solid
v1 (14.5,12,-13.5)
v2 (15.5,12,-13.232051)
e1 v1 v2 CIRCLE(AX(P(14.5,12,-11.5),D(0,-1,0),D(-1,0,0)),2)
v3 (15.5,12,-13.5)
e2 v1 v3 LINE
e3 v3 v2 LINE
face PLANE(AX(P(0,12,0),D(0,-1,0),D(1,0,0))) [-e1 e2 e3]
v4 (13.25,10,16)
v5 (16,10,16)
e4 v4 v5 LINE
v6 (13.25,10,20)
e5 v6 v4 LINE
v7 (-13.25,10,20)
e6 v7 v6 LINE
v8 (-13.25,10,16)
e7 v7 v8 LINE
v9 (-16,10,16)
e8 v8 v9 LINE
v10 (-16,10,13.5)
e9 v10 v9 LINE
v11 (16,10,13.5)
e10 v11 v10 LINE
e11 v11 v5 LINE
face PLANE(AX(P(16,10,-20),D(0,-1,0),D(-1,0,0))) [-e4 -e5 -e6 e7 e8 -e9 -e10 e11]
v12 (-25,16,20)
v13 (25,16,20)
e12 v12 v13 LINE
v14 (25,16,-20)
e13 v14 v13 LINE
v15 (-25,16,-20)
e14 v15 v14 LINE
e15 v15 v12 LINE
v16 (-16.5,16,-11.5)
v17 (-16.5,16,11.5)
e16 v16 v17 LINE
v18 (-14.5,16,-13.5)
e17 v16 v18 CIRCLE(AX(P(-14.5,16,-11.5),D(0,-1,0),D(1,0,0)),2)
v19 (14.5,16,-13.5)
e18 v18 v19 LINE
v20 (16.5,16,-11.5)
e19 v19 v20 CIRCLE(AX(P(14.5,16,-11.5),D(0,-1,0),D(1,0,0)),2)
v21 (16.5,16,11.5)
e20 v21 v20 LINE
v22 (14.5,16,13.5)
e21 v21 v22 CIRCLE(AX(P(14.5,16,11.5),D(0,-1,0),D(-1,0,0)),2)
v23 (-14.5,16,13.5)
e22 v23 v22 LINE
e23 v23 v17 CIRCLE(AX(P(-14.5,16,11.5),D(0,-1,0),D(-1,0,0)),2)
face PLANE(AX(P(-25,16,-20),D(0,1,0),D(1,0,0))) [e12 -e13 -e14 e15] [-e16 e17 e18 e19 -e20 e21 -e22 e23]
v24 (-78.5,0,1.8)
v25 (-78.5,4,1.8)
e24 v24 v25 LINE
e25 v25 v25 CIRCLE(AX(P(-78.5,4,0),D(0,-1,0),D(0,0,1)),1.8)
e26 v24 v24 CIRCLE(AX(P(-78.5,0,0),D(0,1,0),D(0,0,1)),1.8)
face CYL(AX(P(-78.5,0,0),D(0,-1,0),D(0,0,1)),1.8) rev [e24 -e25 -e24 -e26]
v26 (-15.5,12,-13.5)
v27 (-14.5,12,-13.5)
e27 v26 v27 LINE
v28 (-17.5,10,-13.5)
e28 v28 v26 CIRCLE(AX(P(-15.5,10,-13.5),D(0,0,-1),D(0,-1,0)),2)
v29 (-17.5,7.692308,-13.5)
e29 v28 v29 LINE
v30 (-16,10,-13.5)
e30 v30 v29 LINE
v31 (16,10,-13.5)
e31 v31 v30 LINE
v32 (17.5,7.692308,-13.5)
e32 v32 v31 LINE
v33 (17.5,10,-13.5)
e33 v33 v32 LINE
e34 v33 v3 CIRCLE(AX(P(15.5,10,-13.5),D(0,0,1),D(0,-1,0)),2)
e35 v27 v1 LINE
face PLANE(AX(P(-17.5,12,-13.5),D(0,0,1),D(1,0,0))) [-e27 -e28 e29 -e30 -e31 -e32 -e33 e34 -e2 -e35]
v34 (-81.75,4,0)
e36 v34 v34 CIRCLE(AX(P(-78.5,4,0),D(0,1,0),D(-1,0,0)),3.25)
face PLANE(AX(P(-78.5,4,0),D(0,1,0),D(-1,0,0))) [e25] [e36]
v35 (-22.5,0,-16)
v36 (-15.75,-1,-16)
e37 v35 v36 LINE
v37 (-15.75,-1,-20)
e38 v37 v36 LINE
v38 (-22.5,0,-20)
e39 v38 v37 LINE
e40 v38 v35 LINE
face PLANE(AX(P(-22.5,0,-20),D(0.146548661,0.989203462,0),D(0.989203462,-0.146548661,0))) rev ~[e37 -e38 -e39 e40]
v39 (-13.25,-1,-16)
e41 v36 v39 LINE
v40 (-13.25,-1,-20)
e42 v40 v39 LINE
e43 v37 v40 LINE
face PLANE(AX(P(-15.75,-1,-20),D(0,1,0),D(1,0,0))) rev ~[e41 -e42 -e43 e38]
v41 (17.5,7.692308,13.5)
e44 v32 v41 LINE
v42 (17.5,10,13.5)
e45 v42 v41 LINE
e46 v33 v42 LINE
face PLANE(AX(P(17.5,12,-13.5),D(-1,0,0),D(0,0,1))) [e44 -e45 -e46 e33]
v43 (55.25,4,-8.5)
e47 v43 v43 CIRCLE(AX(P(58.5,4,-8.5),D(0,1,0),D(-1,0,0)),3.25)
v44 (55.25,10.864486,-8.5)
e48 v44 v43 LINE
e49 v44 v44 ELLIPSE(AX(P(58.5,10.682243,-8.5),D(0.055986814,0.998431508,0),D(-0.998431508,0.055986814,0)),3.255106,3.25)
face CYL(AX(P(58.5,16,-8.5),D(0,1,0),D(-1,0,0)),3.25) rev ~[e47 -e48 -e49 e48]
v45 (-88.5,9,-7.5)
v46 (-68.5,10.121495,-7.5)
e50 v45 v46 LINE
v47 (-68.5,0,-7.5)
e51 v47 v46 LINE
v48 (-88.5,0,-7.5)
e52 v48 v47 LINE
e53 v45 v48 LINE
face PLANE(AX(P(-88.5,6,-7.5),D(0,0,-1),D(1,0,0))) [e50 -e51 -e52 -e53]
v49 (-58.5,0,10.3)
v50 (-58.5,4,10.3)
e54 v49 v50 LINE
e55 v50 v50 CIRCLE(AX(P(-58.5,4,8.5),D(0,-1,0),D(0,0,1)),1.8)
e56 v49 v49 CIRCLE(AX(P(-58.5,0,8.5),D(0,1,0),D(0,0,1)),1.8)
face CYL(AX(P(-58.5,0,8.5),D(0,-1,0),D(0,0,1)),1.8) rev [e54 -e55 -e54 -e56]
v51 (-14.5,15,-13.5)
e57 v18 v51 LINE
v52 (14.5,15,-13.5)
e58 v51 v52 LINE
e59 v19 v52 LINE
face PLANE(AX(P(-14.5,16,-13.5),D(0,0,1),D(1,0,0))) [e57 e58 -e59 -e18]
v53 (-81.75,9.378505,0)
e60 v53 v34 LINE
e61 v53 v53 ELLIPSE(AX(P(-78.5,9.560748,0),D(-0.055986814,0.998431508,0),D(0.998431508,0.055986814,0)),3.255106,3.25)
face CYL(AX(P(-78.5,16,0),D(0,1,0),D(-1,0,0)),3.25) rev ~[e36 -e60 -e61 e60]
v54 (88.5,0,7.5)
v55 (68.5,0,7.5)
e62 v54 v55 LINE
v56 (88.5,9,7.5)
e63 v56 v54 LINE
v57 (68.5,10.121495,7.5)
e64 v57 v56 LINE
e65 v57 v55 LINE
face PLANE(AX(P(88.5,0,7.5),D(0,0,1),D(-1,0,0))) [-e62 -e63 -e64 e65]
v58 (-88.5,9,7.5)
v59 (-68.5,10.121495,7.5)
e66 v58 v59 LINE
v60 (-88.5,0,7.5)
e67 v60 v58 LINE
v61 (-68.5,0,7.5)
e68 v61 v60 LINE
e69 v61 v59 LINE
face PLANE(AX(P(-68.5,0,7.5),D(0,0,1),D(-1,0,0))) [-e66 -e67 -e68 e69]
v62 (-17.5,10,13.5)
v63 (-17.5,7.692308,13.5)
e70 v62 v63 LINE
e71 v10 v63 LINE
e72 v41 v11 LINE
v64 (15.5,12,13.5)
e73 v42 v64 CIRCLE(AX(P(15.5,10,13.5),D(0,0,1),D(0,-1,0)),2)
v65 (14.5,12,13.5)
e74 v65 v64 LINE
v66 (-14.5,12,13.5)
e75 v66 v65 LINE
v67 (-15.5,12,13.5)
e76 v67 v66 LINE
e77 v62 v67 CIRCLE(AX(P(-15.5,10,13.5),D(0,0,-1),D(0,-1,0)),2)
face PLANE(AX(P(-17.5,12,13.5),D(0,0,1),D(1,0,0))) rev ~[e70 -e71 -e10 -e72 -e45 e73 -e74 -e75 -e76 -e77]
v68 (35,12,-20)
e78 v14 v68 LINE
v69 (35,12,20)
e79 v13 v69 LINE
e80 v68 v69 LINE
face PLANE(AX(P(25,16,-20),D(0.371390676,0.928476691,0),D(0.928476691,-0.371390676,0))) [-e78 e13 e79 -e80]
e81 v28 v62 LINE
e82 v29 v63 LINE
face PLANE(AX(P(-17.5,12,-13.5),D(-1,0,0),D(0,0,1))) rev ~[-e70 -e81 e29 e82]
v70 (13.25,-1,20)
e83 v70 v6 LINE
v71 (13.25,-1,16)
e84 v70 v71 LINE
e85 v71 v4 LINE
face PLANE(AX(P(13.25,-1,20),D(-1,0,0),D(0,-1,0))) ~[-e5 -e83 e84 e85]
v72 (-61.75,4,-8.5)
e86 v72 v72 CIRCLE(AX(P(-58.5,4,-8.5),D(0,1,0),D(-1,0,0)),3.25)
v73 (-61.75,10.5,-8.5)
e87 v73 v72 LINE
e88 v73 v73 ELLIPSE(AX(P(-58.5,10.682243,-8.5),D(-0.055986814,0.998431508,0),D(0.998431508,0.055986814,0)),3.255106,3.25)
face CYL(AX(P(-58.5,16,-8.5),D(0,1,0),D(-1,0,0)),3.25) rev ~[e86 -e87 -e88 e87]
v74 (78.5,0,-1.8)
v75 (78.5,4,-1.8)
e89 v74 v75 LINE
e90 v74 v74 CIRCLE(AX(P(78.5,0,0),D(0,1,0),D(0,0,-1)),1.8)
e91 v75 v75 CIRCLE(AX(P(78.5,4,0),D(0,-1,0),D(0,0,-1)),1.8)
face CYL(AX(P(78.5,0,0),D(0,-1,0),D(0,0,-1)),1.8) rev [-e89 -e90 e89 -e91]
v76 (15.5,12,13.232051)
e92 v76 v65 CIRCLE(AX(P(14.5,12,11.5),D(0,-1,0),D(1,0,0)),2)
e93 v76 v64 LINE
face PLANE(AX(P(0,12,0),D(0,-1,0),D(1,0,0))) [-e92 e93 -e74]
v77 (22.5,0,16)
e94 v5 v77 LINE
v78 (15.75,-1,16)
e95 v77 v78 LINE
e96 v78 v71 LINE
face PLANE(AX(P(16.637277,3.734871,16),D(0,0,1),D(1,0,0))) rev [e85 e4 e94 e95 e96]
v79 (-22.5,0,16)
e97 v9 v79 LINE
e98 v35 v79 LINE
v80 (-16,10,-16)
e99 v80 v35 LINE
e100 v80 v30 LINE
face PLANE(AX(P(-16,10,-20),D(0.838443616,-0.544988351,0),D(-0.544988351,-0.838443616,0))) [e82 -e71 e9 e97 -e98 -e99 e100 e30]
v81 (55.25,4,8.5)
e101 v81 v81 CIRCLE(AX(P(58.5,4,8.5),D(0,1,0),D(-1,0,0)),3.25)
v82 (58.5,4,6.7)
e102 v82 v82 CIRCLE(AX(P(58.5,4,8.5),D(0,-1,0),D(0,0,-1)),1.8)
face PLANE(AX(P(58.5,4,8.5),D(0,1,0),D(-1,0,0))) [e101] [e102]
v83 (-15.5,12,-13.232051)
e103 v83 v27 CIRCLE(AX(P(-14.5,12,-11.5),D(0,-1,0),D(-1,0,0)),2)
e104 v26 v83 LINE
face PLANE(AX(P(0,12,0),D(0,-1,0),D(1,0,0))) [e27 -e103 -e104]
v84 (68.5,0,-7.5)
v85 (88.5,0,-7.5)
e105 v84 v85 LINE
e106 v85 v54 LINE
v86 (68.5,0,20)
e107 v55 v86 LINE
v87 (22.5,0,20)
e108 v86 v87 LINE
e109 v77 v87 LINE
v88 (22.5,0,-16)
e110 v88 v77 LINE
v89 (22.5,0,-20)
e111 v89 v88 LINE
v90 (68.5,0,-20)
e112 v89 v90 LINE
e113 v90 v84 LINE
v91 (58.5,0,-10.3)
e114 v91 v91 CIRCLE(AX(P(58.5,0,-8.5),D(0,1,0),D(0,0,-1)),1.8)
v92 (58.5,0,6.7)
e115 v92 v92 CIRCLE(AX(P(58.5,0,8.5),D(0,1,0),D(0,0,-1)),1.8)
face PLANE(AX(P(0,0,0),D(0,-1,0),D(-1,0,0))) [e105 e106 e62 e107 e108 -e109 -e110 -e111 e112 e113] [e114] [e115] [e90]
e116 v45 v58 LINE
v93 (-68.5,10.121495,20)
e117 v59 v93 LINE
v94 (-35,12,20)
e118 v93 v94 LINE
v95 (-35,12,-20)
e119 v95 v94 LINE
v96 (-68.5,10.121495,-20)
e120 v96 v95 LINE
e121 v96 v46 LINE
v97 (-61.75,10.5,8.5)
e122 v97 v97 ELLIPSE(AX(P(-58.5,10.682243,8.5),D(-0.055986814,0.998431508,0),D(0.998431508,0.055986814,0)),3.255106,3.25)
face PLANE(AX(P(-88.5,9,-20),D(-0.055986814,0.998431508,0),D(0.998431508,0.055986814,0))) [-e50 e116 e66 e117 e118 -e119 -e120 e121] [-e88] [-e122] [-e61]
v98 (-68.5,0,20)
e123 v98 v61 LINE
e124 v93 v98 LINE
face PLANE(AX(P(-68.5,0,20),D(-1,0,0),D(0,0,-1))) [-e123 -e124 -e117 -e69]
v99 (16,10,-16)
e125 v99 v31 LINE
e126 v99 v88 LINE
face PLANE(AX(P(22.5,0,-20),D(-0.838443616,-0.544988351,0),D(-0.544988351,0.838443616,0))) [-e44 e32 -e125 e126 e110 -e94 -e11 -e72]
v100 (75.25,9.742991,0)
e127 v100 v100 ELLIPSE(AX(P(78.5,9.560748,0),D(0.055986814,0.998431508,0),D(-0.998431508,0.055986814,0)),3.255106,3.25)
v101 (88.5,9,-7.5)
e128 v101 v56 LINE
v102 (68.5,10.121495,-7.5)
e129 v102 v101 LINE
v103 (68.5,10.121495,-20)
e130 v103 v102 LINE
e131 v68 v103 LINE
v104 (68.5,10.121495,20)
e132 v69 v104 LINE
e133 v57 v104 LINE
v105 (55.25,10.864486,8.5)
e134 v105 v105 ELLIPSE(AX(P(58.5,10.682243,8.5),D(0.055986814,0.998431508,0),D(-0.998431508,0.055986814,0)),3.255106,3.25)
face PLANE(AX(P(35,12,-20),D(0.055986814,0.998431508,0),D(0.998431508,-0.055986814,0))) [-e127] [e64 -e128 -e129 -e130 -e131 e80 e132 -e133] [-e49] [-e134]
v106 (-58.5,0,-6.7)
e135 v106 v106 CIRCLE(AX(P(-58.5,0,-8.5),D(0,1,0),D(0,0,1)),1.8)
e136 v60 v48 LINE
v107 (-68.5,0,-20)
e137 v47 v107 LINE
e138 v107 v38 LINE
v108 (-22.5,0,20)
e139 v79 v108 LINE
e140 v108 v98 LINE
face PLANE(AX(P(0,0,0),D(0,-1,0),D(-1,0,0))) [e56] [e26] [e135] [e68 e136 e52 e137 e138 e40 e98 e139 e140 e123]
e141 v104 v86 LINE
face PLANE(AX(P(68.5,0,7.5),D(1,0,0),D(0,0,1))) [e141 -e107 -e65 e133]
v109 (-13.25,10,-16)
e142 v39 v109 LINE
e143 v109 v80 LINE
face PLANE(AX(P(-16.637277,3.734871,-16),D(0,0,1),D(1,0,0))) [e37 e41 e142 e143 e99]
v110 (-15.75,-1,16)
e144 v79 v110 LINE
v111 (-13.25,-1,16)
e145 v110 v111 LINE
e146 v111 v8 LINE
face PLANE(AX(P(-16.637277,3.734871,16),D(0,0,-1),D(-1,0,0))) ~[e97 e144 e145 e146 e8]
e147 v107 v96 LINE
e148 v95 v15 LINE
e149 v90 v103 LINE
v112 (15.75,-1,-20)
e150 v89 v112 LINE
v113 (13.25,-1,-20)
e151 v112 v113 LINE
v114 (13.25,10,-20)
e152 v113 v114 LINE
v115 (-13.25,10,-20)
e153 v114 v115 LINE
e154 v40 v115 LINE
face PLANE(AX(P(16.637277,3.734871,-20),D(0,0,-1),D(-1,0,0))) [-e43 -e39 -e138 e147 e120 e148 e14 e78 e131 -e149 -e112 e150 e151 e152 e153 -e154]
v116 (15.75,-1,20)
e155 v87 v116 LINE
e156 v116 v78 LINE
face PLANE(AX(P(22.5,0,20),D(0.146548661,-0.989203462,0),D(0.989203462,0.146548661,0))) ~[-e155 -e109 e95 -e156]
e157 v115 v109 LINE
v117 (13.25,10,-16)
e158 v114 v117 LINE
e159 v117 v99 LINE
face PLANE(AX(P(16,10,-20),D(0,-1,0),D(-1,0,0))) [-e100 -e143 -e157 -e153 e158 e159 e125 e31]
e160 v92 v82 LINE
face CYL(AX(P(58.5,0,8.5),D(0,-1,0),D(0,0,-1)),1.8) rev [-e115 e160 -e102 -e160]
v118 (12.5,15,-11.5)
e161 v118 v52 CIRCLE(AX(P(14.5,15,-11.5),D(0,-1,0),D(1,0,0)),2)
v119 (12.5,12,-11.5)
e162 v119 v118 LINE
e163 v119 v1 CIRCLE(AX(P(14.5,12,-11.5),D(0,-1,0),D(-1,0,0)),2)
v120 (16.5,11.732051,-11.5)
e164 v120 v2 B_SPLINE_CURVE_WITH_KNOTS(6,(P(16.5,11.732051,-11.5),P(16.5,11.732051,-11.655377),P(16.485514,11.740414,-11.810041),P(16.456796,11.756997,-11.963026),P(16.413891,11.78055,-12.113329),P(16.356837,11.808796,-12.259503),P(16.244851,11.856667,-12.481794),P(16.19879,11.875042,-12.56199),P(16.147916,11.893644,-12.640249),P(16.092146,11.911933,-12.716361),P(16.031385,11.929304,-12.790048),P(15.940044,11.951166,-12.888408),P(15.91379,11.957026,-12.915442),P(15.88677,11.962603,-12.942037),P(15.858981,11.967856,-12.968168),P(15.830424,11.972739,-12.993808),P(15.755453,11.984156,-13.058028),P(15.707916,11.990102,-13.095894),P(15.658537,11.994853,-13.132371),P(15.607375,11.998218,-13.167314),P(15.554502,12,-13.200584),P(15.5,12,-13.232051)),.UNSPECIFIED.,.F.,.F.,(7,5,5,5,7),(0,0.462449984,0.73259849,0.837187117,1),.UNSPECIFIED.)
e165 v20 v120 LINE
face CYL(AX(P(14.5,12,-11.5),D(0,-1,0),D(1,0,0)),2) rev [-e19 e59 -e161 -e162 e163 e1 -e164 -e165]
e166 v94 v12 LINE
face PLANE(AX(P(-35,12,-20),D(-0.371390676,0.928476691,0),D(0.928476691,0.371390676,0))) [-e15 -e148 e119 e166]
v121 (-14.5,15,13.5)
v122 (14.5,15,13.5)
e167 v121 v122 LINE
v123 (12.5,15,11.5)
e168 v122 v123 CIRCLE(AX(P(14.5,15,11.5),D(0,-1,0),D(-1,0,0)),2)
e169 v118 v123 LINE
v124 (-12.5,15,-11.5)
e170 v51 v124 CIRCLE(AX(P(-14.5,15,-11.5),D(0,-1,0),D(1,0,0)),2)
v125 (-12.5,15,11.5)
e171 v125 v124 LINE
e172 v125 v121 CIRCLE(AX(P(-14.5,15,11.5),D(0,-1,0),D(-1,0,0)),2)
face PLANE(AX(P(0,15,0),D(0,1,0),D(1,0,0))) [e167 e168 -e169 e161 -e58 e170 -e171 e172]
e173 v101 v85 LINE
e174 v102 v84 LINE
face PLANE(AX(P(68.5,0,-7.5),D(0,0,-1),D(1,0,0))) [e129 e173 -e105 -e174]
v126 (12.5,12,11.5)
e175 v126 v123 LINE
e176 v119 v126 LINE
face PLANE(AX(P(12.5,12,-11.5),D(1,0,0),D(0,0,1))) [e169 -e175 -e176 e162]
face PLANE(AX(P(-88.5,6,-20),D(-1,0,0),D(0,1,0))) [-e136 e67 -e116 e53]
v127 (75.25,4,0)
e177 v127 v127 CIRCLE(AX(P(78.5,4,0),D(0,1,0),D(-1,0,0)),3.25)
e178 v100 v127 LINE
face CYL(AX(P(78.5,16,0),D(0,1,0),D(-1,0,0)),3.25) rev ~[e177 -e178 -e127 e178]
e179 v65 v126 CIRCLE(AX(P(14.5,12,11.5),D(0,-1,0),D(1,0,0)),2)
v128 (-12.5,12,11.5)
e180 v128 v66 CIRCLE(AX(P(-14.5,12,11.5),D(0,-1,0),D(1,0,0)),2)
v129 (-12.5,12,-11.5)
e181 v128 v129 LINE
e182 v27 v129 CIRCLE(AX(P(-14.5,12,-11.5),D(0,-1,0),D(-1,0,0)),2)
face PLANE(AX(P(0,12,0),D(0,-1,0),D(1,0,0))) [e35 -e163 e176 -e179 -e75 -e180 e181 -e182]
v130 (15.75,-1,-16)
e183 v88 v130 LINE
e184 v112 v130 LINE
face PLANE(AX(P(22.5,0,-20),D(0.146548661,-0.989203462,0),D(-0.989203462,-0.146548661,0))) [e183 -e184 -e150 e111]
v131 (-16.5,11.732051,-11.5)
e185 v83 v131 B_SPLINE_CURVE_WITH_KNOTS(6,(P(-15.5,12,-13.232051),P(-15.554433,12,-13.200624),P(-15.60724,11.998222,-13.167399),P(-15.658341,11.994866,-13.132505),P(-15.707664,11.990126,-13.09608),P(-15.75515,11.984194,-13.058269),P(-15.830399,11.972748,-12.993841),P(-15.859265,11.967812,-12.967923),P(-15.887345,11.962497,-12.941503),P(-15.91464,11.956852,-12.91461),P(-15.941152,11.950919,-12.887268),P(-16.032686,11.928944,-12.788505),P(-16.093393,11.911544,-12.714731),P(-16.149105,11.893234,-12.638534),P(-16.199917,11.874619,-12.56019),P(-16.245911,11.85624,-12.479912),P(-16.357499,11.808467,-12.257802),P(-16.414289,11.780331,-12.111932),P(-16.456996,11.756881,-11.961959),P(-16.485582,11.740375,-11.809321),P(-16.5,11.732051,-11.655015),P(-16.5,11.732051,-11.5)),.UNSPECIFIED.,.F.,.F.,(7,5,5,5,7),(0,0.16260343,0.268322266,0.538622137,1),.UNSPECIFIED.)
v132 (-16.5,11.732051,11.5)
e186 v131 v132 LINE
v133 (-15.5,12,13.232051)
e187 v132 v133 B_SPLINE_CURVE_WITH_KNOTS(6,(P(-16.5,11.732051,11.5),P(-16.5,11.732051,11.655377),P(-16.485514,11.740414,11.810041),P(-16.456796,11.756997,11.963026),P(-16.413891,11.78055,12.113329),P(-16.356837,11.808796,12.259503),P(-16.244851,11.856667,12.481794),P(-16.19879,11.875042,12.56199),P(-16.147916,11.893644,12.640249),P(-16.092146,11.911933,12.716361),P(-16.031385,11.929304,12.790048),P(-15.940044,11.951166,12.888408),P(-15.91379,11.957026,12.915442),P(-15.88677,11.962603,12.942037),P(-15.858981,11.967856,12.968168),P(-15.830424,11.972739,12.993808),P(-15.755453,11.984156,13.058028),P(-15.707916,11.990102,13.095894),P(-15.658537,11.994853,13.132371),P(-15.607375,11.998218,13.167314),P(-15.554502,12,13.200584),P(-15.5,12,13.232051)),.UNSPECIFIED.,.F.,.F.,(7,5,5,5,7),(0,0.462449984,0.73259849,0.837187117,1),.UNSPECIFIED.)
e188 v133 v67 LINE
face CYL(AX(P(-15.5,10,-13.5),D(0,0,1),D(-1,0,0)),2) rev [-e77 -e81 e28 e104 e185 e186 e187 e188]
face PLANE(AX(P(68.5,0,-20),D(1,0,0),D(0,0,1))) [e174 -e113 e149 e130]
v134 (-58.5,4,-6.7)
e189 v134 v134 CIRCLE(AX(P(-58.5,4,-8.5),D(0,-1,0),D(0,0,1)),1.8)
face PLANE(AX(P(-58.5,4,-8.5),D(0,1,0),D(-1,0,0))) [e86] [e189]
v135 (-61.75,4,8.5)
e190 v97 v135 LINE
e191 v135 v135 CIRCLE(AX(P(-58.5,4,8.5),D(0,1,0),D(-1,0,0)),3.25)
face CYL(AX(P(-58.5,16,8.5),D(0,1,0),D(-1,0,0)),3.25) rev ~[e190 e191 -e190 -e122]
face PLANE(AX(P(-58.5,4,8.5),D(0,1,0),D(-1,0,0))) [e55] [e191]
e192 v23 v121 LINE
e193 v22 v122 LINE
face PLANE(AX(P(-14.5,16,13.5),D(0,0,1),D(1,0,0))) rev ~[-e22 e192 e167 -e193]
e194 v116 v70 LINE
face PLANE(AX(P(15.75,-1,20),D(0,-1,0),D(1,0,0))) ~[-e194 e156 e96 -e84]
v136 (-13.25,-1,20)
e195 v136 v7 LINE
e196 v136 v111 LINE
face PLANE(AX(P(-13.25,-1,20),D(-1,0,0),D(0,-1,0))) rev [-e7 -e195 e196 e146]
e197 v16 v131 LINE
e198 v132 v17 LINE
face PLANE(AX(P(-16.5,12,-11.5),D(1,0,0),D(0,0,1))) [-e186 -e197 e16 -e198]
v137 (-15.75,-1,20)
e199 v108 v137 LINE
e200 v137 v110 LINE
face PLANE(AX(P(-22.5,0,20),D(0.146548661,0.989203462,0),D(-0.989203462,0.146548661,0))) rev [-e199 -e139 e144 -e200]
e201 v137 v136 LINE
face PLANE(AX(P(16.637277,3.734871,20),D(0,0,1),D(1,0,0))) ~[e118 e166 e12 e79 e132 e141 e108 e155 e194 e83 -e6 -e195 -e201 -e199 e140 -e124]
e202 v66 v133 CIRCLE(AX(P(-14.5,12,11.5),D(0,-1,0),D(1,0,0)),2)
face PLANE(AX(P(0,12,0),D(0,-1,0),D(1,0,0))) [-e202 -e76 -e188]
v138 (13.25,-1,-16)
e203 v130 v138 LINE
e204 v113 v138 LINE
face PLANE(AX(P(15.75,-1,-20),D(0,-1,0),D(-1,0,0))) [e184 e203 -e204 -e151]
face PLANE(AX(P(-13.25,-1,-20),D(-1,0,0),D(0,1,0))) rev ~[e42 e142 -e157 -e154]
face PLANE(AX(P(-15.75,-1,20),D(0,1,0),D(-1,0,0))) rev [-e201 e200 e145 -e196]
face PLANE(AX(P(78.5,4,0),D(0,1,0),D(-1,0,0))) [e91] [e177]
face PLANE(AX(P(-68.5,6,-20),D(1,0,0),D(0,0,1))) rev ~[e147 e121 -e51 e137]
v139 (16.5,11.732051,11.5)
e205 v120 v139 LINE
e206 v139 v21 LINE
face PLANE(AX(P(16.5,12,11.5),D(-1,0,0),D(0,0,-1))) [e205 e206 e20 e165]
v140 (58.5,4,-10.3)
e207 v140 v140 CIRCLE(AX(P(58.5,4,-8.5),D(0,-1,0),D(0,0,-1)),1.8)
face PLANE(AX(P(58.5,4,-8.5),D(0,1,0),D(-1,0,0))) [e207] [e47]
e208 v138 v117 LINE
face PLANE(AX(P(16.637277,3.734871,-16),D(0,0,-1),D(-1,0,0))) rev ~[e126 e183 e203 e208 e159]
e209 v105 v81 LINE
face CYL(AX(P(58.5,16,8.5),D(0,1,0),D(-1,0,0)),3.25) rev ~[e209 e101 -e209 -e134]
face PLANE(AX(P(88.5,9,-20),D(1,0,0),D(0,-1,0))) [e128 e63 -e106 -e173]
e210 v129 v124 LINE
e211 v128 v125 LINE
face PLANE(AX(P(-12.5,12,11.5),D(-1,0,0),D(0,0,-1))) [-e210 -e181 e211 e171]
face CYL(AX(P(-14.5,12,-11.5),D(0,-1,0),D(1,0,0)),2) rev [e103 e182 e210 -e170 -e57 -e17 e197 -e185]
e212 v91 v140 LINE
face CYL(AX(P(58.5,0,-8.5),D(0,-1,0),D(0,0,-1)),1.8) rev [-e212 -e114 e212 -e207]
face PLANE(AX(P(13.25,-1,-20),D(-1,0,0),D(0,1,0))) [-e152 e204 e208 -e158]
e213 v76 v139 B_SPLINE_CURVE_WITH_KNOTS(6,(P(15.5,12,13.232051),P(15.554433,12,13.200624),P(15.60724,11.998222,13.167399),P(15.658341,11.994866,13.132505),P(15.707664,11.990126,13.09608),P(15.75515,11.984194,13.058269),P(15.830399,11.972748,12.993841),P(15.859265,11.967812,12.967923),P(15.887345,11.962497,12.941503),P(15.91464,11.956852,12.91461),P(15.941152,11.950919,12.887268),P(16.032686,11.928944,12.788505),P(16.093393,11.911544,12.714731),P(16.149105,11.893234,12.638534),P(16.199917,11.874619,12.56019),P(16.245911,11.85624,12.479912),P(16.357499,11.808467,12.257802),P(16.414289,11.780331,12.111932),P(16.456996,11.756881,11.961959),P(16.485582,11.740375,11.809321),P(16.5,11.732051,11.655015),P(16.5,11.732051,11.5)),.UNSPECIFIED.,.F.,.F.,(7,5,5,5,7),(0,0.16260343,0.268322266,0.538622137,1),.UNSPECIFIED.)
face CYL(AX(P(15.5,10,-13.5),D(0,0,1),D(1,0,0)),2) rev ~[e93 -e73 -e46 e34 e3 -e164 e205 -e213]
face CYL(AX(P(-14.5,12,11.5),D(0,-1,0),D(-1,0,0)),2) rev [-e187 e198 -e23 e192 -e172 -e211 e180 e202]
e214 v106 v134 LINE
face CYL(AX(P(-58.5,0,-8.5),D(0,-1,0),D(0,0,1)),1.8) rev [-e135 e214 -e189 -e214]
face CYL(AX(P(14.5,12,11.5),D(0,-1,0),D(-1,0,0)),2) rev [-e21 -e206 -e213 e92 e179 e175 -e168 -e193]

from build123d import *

# Parameters (mm, degrees)
SKETCH1_R                      = 1.8
BOSS_EXTRUDE1_DEPTH            = 6
BOSS_EXTRUDE2_DEPTH            = 40
CUT_EXTRUDE1_REACH             = 93.281
SKETCH3_W                      = 20
SKETCH3_H                      = 12.5
SKETCH4_R                      = 3.25
CUT_EXTRUDE2_DEPTH             = 12
CUT_EXTRUDE3_REACH             = 100.429
CUT_EXTRUDE4_START             = -2
SKETCH6_W                      = 35
SKETCH6_H                      = 27
CUT_EXTRUDE4_DEPTH             = 4.307692
FILLET1_R                      = 2
BOSS_EXTRUDE3_DEPTH            = 4
CUT_EXTRUDE5_REACH             = 93.658
CUT_EXTRUDE5_DIRECTION_2_REACH = 93.658
SKETCH10_W                     = 29
SKETCH10_H                     = 27
CUT_EXTRUDE7_DEPTH             = 1


with BuildPart() as part:
    # Sketch1 → Boss-Extrude1 (new body)
    with BuildSketch(Plane(origin=(0, 0, 0), x_dir=(1, 0, 0), z_dir=(0, 1, 0))):
        Polygon((68.5, 20), (68.5, 7.5), (88.5, 7.5), (88.5, -7.5), (68.5, -7.5), (68.5, -20), (-68.5, -20), (-68.5, -7.5), (-88.5, -7.5), (-88.5, 7.5), (-68.5, 7.5), (-68.5, 20), align=None)
        with Locations(Location((-78.5, 0, 0), (0, 0, 270))):
            Circle(SKETCH1_R, mode=Mode.SUBTRACT)
        with Locations(Location((-58.5, 8.5, 0), (0, 0, 270))):
            Circle(SKETCH1_R, mode=Mode.SUBTRACT)
        with Locations(Location((-58.5, -8.5, 0), (0, 0, 270))):
            Circle(SKETCH1_R, mode=Mode.SUBTRACT)
        with Locations(Location((58.5, -8.5, 0), (0, 0, 90))):
            Circle(SKETCH1_R, mode=Mode.SUBTRACT)
        with Locations(Location((78.5, 0, 0), (0, 0, 90))):
            Circle(SKETCH1_R, mode=Mode.SUBTRACT)
        with Locations(Location((58.5, 8.5, 0), (0, 0, 90))):
            Circle(SKETCH1_R, mode=Mode.SUBTRACT)
    extrude(amount=BOSS_EXTRUDE1_DEPTH)

    # Sketch2 → Boss-Extrude2 (add)
    with BuildSketch(Plane(origin=(0, 0, -20), x_dir=(-1, 0, 0), z_dir=(0, 0, -1))):
        Polygon((-88.5, 6), (88.5, 6), (88.5, 9), (35, 12), (25, 16), (-25, 16), (-35, 12), (-88.5, 9), align=None)
    extrude(amount=-BOSS_EXTRUDE2_DEPTH)

    # Sketch3 → Cut-Extrude1 (cut, up to next)
    with BuildSketch(Plane.XZ.offset(-6), mode=Mode.PRIVATE) as cut_extrude1_sk1:
        with Locations((-78.5, 13.75)):
            Rectangle(SKETCH3_W, SKETCH3_H)
    cut_extrude1_tool1 = extrude(cut_extrude1_sk1.sketch, amount=-CUT_EXTRUDE1_REACH, mode=Mode.PRIVATE) & part.part
    # Sketch3 → Cut-Extrude1 (cut, up to next)
    with BuildSketch(Plane.XZ.offset(-6), mode=Mode.PRIVATE) as cut_extrude1_sk2:
        with Locations((-78.5, -13.75)):
            Rectangle(SKETCH3_W, SKETCH3_H)
    cut_extrude1_tool2 = extrude(cut_extrude1_sk2.sketch, amount=-CUT_EXTRUDE1_REACH, mode=Mode.PRIVATE) & part.part
    # Sketch3 → Cut-Extrude1 (cut, up to next)
    with BuildSketch(Plane.XZ.offset(-6), mode=Mode.PRIVATE) as cut_extrude1_sk3:
        with Locations((78.5, 13.75)):
            Rectangle(SKETCH3_W, SKETCH3_H)
    cut_extrude1_tool3 = extrude(cut_extrude1_sk3.sketch, amount=-CUT_EXTRUDE1_REACH, mode=Mode.PRIVATE) & part.part
    # Sketch3 → Cut-Extrude1 (cut, up to next)
    with BuildSketch(Plane.XZ.offset(-6), mode=Mode.PRIVATE) as cut_extrude1_sk4:
        with Locations((78.5, -13.75)):
            Rectangle(SKETCH3_W, SKETCH3_H)
    cut_extrude1_tool4 = extrude(cut_extrude1_sk4.sketch, amount=-CUT_EXTRUDE1_REACH, mode=Mode.PRIVATE) & part.part
    add(cut_extrude1_tool1.solids().sort_by_distance((-78.5, 6, 13.75))[0], mode=Mode.SUBTRACT)
    add(cut_extrude1_tool2.solids().sort_by_distance((-78.5, 6, -13.75))[0], mode=Mode.SUBTRACT)
    add(cut_extrude1_tool3.solids().sort_by_distance((78.5, 6, 13.75))[0], mode=Mode.SUBTRACT)
    add(cut_extrude1_tool4.solids().sort_by_distance((78.5, 6, -13.75))[0], mode=Mode.SUBTRACT)

    # Sketch4 → Cut-Extrude2 (cut)
    with BuildSketch(Plane(origin=(0, 16, 0), x_dir=(1, 0, 0), z_dir=(0, 1, 0))):
        with Locations(Location((-58.5, 8.5, 0), (0, 0, 180))):
            Circle(SKETCH4_R)
        with Locations(Location((-78.5, 0, 0), (0, 0, 180))):
            Circle(SKETCH4_R)
        with Locations(Location((-58.5, -8.5, 0), (0, 0, 180))):
            Circle(SKETCH4_R)
        with Locations(Location((58.5, 8.5, 0), (0, 0, 180))):
            Circle(SKETCH4_R)
        with Locations(Location((58.5, -8.5, 0), (0, 0, 180))):
            Circle(SKETCH4_R)
        with Locations(Location((78.5, 0, 0), (0, 0, 180))):
            Circle(SKETCH4_R)
    extrude(amount=-CUT_EXTRUDE2_DEPTH, mode=Mode.SUBTRACT)

    # Sketch5 → Cut-Extrude3 (cut, up to next)
    with BuildSketch(Plane(origin=(0, 0, -20), x_dir=(-1, 0, 0), z_dir=(0, 0, -1)), mode=Mode.PRIVATE) as cut_extrude3_sk1:
        Polygon((-22.5, 0), (-16, 10), (16, 10), (22.5, 0), align=None)
    cut_extrude3_tool1 = extrude(cut_extrude3_sk1.sketch, amount=-CUT_EXTRUDE3_REACH, mode=Mode.PRIVATE) & part.part
    add(cut_extrude3_tool1.solids().sort_by_distance((0, 4.718615, -20))[0], mode=Mode.SUBTRACT)

    # Sketch6 → Cut-Extrude4 (cut)
    with BuildSketch(Plane.XZ.offset(-10).offset(CUT_EXTRUDE4_START)):
        Rectangle(SKETCH6_W, SKETCH6_H)
    extrude(amount=CUT_EXTRUDE4_DEPTH, mode=Mode.SUBTRACT)

    # Fillet1
    fillet1_edges = [part.edges().sort_by_distance(p)[0] for p in [
        (-17.5, 12, 0),
        (17.5, 12, 0),
    ]]
    fillet(fillet1_edges, radius=FILLET1_R)

    # Sketch7 → Boss-Extrude3 (add)
    with BuildSketch(Plane(origin=(0, 0, -20), x_dir=(-1, 0, 0), z_dir=(0, 0, -1))):
        Polygon((-22.5, 0), (-15.75, -1), (-13.25, -1), (-13.25, 10), (-16, 10), align=None)
        Polygon((16, 10), (22.5, 0), (15.75, -1), (13.25, -1), (13.25, 10), align=None)
    boss_extrude3 = extrude(amount=-BOSS_EXTRUDE3_DEPTH)

    # Mirror1: Boss-Extrude3 across plane
    add(boss_extrude3.mirror(Plane.XY))

    # Sketch8 → Cut-Extrude5 (cut, up to next)
    with BuildSketch(Plane.XZ.offset(-12), mode=Mode.PRIVATE) as cut_extrude5_sk1:
        with BuildLine():
            Line((-12.5, 11.5), (-12.5, -11.5))
            ThreePointArc((-12.5, -11.5), (-14.5, -13.5), (-16.5, -11.5))
            Line((-16.5, -11.5), (-16.5, 11.5))
            ThreePointArc((-16.5, 11.5), (-14.5, 13.5), (-12.5, 11.5))
        make_face()
    cut_extrude5_tool1 = extrude(cut_extrude5_sk1.sketch, amount=-CUT_EXTRUDE5_REACH, mode=Mode.PRIVATE) & part.part
    # Sketch8 → Cut-Extrude5 (cut, up to next)
    with BuildSketch(Plane.XZ.offset(-12), mode=Mode.PRIVATE) as cut_extrude5_sk2:
        with BuildLine():
            Line((16.5, 11.5), (16.5, -11.5))
            ThreePointArc((16.5, -11.5), (14.5, -13.5), (12.5, -11.5))
            Line((12.5, -11.5), (12.5, 11.5))
            ThreePointArc((12.5, 11.5), (14.5, 13.5), (16.5, 11.5))
        make_face()
    cut_extrude5_tool2 = extrude(cut_extrude5_sk2.sketch, amount=-CUT_EXTRUDE5_REACH, mode=Mode.PRIVATE) & part.part
    add(cut_extrude5_tool1.solids().sort_by_distance((-14.5, 12, 0))[0], mode=Mode.SUBTRACT)
    add(cut_extrude5_tool2.solids().sort_by_distance((14.5, 12, 0))[0], mode=Mode.SUBTRACT)

    # Sketch8 → Cut-Extrude5 direction 2 (cut, up to next)
    with BuildSketch(Plane.XZ.offset(-12), mode=Mode.PRIVATE) as cut_extrude5_direction_2_sk1:
        with BuildLine():
            Line((-12.5, 11.5), (-12.5, -11.5))
            ThreePointArc((-12.5, -11.5), (-14.5, -13.5), (-16.5, -11.5))
            Line((-16.5, -11.5), (-16.5, 11.5))
            ThreePointArc((-16.5, 11.5), (-14.5, 13.5), (-12.5, 11.5))
        make_face()
    cut_extrude5_direction_2_tool1 = extrude(cut_extrude5_direction_2_sk1.sketch, amount=CUT_EXTRUDE5_DIRECTION_2_REACH, mode=Mode.PRIVATE) & part.part
    # Sketch8 → Cut-Extrude5 direction 2 (cut, up to next)
    with BuildSketch(Plane.XZ.offset(-12), mode=Mode.PRIVATE) as cut_extrude5_direction_2_sk2:
        with BuildLine():
            Line((16.5, 11.5), (16.5, -11.5))
            ThreePointArc((16.5, -11.5), (14.5, -13.5), (12.5, -11.5))
            Line((12.5, -11.5), (12.5, 11.5))
            ThreePointArc((12.5, 11.5), (14.5, 13.5), (16.5, 11.5))
        make_face()
    cut_extrude5_direction_2_tool2 = extrude(cut_extrude5_direction_2_sk2.sketch, amount=CUT_EXTRUDE5_DIRECTION_2_REACH, mode=Mode.PRIVATE) & part.part
    add(cut_extrude5_direction_2_tool1.solids().sort_by_distance((-14.5, 12, 0))[0], mode=Mode.SUBTRACT)
    add(cut_extrude5_direction_2_tool2.solids().sort_by_distance((14.5, 12, 0))[0], mode=Mode.SUBTRACT)

    # Sketch10 → Cut-Extrude7 (cut)
    with BuildSketch(Plane(origin=(0, 16, 0), x_dir=(1, 0, 0), z_dir=(0, 1, 0))):
        Rectangle(SKETCH10_W, SKETCH10_H)
    extrude(amount=-CUT_EXTRUDE7_DEPTH, mode=Mode.SUBTRACT)


solid = part.part
